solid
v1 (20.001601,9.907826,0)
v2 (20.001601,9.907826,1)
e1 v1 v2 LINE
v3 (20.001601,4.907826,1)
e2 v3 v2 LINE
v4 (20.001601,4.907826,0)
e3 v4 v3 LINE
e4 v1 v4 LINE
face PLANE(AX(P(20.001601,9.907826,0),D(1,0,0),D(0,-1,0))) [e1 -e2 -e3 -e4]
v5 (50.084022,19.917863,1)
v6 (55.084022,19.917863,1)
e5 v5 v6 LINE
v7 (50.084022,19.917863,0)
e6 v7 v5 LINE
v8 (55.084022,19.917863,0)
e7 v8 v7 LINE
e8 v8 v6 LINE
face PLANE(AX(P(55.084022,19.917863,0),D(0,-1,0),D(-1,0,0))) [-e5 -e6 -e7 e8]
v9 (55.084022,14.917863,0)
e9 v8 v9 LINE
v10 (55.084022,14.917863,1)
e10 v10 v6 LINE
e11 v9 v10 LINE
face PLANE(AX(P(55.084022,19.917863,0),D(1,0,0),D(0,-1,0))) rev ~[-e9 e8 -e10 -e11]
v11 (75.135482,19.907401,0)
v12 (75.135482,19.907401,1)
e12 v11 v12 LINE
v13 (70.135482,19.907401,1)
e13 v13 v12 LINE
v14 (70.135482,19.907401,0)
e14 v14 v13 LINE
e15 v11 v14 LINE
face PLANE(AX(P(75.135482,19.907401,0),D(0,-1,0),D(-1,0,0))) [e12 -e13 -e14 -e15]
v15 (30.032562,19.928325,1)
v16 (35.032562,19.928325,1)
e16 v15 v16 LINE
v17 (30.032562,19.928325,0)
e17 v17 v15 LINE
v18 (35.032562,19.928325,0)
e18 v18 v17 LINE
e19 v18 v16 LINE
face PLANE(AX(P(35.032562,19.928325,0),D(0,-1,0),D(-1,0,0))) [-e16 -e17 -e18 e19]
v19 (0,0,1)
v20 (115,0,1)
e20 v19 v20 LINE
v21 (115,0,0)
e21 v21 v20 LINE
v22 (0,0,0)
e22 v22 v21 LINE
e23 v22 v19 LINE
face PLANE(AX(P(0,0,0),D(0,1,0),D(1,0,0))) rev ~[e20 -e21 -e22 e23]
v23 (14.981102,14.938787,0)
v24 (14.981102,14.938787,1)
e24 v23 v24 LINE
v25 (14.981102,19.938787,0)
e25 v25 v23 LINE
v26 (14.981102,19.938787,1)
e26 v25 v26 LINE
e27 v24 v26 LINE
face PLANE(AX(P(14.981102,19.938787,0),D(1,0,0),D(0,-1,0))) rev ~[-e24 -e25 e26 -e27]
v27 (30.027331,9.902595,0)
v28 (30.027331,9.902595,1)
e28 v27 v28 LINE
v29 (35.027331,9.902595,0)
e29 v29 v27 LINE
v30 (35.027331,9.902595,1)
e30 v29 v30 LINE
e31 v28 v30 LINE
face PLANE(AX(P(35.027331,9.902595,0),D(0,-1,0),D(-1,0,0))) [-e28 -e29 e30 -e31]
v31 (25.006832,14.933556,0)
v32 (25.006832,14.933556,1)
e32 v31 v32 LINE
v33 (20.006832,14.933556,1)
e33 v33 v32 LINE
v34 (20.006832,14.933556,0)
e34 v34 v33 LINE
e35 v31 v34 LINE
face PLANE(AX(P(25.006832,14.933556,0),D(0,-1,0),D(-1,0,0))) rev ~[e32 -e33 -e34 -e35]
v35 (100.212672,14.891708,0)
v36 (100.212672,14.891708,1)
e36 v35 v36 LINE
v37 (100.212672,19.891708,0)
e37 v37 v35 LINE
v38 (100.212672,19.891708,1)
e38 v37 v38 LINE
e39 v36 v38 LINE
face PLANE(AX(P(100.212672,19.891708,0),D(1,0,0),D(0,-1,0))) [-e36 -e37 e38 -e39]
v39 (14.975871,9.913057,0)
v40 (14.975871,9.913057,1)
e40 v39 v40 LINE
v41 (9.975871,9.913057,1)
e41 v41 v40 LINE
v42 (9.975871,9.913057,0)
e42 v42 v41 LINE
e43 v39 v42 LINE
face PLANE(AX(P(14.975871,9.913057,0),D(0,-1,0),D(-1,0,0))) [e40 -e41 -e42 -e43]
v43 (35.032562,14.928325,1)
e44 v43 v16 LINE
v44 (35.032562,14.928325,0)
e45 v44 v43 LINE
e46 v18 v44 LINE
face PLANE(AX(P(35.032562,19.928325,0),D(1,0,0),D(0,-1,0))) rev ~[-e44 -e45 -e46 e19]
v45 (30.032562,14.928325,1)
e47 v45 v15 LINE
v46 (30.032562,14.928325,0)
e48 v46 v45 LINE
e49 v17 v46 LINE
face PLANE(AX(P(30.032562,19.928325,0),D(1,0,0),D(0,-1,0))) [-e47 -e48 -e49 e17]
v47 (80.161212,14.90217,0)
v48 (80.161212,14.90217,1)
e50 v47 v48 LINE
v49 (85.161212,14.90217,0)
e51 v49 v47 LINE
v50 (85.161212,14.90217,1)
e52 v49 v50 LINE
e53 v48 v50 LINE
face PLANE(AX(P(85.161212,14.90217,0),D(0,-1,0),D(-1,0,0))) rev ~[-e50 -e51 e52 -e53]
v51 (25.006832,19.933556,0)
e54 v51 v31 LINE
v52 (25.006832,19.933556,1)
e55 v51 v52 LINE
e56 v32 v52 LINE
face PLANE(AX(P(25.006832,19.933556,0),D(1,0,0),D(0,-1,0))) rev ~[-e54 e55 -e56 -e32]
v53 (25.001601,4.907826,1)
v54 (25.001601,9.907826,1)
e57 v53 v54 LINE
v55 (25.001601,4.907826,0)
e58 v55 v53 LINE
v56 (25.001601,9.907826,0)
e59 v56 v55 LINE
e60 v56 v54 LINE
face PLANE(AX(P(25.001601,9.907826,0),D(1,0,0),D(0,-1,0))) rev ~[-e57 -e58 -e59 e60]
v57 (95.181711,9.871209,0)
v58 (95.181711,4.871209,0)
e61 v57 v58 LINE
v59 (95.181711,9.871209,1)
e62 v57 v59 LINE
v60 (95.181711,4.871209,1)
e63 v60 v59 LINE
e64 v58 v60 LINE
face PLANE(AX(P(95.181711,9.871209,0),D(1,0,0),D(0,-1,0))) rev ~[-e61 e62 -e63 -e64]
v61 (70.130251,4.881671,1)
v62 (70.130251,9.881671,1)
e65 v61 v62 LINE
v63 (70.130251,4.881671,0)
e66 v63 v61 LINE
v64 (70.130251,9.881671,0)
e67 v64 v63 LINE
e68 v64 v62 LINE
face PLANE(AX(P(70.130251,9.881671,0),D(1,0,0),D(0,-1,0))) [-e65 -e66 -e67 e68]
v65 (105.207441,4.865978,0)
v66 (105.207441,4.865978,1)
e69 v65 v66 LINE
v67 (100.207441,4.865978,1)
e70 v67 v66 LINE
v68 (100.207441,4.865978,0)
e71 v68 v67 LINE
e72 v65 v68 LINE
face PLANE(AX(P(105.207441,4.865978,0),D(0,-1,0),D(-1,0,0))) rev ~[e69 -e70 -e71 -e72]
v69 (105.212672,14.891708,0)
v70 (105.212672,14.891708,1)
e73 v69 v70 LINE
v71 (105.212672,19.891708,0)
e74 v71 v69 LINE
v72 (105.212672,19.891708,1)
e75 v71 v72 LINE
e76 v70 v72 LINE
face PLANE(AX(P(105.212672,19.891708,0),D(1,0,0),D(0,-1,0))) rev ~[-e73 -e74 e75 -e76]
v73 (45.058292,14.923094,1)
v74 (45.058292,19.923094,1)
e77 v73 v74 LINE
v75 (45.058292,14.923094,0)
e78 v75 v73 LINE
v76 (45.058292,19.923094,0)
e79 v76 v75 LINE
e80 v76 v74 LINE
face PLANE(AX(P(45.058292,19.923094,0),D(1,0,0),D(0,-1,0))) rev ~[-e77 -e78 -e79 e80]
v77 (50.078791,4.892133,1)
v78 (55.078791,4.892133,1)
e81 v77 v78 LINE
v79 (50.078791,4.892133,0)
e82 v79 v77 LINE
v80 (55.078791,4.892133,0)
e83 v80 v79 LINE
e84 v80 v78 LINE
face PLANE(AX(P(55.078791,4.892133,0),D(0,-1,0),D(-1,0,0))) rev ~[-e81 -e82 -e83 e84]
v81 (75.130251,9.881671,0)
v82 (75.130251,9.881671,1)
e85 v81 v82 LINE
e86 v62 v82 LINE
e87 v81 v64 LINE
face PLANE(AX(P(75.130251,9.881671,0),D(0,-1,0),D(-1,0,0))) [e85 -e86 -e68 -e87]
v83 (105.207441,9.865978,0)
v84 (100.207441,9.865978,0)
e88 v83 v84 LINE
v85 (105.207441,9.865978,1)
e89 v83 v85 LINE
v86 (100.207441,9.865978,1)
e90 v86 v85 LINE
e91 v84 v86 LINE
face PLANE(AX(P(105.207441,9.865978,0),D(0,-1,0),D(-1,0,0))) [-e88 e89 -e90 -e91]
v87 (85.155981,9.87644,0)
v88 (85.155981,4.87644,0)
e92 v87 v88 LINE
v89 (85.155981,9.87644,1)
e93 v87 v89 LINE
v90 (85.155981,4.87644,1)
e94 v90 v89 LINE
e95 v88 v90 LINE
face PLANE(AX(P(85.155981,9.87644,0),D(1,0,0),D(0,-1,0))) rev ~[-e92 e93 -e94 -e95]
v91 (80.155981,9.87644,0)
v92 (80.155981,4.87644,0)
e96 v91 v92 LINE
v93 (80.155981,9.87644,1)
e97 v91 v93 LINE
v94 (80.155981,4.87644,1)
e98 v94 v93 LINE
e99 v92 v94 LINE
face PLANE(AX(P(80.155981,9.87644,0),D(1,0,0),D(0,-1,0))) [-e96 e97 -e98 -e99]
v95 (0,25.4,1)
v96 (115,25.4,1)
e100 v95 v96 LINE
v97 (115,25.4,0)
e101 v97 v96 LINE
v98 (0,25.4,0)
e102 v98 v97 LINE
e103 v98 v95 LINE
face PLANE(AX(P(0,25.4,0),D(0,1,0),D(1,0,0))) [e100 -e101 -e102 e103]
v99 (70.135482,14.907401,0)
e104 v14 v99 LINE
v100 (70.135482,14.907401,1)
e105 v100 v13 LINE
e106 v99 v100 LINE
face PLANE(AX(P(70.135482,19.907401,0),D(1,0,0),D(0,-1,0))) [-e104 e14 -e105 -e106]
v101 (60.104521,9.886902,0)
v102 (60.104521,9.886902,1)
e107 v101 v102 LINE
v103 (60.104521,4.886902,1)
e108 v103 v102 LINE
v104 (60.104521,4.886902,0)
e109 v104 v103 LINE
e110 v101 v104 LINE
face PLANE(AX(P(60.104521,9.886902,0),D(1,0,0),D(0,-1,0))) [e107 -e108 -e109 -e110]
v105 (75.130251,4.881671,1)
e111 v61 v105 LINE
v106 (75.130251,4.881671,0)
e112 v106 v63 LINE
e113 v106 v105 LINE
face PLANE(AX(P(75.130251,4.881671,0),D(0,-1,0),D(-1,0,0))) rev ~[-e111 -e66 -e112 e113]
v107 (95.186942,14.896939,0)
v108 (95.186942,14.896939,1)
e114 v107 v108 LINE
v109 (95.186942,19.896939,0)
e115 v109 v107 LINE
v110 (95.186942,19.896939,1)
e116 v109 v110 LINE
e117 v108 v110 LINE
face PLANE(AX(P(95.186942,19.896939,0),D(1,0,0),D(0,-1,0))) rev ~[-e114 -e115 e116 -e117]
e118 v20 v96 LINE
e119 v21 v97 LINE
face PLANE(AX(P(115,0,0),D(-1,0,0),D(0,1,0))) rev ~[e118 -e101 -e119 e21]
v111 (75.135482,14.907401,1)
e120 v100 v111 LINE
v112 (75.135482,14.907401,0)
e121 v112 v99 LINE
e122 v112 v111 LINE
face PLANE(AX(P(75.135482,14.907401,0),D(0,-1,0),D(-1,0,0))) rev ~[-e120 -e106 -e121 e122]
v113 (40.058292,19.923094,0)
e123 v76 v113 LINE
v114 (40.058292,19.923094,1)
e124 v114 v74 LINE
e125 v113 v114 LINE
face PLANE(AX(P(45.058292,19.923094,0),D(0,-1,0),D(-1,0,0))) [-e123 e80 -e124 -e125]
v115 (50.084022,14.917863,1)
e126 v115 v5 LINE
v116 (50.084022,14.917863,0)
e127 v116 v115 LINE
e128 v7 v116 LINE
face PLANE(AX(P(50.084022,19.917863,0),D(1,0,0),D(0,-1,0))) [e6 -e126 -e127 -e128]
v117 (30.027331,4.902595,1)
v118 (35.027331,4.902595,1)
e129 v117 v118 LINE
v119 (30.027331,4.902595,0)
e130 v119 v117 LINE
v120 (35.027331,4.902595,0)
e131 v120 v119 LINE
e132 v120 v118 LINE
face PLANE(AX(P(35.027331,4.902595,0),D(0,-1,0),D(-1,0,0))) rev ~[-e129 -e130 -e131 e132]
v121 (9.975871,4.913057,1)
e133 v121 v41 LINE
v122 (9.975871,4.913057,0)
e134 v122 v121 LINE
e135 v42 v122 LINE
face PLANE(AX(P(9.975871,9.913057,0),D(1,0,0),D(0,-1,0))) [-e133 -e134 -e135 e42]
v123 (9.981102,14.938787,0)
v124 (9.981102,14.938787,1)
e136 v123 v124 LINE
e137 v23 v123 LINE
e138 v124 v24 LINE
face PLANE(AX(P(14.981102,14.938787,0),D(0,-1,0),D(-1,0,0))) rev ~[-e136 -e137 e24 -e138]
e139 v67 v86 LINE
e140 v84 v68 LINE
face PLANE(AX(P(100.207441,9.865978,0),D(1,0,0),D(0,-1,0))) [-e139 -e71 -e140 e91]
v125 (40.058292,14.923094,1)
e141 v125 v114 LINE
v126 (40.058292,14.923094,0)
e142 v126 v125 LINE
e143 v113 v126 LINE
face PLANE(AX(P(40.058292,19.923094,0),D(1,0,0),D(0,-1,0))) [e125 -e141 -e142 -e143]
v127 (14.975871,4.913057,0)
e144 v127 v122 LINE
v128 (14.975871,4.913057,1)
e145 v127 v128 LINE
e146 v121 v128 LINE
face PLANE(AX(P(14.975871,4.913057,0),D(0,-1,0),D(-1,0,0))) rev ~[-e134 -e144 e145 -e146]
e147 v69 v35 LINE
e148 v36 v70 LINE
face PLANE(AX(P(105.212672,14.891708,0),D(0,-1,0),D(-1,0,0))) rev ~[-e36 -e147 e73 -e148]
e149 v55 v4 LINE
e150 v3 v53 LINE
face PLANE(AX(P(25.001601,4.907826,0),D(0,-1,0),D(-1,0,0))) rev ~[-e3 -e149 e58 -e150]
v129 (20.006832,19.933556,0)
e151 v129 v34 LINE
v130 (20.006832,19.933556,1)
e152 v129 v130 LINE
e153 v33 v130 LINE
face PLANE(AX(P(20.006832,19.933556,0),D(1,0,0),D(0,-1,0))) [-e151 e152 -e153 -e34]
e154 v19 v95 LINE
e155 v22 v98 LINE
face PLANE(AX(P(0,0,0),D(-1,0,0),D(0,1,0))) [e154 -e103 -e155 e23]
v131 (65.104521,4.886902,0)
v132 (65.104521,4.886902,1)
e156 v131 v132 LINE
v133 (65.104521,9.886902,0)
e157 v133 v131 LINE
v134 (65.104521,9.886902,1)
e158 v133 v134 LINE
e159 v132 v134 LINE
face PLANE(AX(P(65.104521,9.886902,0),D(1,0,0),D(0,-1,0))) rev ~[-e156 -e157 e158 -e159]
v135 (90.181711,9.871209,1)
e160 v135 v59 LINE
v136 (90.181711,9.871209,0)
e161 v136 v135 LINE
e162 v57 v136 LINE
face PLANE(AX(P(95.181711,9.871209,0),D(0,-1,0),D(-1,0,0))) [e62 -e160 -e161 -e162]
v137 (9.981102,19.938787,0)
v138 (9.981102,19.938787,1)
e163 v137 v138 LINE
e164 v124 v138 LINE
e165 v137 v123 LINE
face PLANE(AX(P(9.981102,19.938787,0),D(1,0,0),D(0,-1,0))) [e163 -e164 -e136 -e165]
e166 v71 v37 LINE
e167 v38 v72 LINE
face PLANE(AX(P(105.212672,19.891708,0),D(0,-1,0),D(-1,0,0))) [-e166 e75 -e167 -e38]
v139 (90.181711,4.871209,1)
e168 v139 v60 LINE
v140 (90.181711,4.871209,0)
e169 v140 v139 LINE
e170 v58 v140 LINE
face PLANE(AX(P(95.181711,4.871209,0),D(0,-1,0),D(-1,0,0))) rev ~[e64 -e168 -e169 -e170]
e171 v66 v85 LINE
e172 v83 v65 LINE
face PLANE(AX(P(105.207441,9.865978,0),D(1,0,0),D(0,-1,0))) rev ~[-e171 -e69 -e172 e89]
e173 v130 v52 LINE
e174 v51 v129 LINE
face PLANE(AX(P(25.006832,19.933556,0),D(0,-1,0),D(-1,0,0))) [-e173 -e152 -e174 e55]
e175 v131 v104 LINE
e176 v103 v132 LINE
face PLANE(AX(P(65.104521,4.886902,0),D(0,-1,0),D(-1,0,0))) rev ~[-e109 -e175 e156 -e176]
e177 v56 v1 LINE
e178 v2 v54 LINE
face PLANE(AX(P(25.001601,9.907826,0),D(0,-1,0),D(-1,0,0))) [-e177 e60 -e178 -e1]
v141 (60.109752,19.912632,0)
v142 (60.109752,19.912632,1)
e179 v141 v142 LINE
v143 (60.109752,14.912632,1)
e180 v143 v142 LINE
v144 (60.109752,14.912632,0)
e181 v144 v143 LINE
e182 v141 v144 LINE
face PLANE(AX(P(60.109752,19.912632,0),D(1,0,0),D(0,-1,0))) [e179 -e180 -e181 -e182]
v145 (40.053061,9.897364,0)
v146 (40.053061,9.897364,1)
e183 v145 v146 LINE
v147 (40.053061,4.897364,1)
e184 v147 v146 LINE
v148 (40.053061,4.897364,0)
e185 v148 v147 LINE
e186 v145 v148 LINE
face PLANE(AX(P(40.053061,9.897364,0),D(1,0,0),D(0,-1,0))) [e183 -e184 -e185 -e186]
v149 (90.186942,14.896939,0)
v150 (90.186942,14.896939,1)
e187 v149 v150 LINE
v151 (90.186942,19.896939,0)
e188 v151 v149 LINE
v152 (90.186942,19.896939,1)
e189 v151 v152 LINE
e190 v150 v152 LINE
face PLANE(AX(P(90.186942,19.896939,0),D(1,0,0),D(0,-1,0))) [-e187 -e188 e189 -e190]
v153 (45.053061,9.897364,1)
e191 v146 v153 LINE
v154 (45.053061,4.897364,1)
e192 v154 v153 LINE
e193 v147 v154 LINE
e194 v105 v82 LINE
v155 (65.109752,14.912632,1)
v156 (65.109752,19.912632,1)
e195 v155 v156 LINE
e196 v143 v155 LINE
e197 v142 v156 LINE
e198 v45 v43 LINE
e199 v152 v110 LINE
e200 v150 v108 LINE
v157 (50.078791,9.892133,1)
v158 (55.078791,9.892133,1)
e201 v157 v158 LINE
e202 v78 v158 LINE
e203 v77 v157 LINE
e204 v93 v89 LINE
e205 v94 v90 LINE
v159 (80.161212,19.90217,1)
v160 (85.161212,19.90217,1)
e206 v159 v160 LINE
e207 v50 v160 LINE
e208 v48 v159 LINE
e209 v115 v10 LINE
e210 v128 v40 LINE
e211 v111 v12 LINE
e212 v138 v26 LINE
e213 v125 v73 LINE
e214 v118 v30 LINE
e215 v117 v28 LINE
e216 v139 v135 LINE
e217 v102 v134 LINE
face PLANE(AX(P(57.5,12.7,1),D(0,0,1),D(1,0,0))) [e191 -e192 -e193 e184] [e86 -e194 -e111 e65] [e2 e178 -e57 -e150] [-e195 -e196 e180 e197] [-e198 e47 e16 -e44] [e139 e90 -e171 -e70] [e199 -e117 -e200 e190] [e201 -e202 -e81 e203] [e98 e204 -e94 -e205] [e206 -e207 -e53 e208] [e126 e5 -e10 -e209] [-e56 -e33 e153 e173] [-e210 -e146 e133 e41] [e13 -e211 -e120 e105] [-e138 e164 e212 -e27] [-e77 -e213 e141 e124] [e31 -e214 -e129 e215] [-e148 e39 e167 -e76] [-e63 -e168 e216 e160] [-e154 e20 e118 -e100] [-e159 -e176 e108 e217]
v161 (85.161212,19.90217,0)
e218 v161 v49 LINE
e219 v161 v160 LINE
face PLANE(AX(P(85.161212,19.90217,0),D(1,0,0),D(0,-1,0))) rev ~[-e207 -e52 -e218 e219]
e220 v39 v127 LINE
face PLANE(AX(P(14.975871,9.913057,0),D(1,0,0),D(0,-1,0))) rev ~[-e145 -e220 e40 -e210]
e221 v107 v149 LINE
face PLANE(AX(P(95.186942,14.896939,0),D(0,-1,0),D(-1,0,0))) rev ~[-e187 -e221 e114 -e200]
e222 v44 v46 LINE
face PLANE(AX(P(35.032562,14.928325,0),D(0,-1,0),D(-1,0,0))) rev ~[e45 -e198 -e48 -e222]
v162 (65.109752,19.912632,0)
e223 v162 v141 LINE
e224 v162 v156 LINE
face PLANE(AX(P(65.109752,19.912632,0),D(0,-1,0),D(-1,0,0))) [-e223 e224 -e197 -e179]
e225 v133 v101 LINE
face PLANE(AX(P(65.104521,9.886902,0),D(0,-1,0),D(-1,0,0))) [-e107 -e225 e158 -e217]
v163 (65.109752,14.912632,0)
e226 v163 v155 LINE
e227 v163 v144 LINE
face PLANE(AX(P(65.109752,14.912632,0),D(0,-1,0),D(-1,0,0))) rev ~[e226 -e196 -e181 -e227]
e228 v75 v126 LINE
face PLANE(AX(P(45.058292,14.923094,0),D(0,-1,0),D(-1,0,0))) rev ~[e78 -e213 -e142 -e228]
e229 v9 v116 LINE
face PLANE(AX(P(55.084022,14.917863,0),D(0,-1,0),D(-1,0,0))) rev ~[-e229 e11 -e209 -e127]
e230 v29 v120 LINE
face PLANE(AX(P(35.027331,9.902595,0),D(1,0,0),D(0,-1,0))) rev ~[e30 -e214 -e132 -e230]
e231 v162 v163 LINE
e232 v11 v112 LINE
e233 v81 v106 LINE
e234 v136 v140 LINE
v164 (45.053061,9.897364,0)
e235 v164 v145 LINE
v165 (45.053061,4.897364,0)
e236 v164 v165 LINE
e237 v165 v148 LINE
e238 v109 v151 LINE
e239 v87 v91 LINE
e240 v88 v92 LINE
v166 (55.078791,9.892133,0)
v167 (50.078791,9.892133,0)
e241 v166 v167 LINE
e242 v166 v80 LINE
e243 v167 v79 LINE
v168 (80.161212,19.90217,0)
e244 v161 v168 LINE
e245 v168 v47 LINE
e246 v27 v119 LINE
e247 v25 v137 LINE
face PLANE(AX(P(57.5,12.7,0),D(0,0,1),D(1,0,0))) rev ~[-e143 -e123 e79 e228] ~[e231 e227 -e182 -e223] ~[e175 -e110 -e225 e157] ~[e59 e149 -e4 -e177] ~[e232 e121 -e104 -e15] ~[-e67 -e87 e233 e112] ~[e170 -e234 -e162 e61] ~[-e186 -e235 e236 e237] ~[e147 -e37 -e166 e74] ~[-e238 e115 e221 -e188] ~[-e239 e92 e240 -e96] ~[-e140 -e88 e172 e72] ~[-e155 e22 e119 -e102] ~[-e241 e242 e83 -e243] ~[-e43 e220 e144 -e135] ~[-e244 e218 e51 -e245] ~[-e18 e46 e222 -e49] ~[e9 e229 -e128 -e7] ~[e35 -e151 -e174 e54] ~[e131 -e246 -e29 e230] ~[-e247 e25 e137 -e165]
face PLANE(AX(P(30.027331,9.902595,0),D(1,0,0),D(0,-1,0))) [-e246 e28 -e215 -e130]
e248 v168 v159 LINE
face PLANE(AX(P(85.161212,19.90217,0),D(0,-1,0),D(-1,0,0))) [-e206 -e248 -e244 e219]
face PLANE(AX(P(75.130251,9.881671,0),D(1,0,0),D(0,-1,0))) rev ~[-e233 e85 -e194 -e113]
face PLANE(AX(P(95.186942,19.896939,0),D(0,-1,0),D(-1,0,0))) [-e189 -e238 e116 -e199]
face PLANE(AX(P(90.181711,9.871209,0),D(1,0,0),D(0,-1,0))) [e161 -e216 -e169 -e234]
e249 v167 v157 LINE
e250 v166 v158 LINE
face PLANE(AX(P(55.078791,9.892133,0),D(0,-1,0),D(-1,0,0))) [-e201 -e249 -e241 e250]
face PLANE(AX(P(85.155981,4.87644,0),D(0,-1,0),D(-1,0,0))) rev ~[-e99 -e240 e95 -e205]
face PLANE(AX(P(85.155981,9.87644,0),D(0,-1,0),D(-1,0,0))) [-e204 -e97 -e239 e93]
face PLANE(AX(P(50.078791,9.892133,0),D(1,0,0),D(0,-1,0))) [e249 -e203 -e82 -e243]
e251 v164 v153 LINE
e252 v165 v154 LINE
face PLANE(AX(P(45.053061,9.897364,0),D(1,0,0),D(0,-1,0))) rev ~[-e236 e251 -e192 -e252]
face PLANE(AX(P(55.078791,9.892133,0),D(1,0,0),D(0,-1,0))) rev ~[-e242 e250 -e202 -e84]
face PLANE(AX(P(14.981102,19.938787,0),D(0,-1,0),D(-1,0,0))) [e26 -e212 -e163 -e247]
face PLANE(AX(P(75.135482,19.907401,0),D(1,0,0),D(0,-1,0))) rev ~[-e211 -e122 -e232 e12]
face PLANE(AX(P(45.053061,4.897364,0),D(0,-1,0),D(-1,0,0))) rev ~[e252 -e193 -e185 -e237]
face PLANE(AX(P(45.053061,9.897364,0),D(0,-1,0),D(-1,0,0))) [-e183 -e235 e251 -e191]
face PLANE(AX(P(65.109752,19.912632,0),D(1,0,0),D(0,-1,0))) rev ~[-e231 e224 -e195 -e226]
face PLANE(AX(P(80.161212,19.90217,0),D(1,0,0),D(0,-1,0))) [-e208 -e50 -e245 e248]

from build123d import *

# Parameters (mm, degrees)
BOX_W              = 115
BOX_H              = 25.4
BOX_DEPTH          = 1
SKETCH_W           = 5
SKETCH_H           = 5
POCKET_DEPTH       = 0.001
POCKET_FACE24_W    = 5
POCKET_FACE24_H    = 5
POCKET001_DEPTH    = 5
POCKET001_FACE12_W = 5
POCKET001_FACE12_H = 5
POCKET002_DEPTH    = 5
POCKET002_FACE17_W = 5
POCKET002_FACE17_H = 5
POCKET003_DEPTH    = 1.001
POCKET003_FACE20_W = 5
POCKET003_FACE20_H = 5
POCKET004_DEPTH    = 5
POCKET004_FACE28_W = 5
POCKET004_FACE28_H = 5
POCKET005_DEPTH    = 5
POCKET005_FACE32_W = 5
POCKET005_FACE32_H = 5
POCKET006_DEPTH    = 5
POCKET006_FACE35_W = 5
POCKET006_FACE35_H = 5
POCKET007_DEPTH    = 5
POCKET007_FACE38_W = 5
POCKET007_FACE38_H = 5
POCKET008_DEPTH    = 5
POCKET008_FACE46_W = 5
POCKET008_FACE46_H = 5
POCKET009_DEPTH    = 5
POCKET009_FACE52_W = 5
POCKET009_FACE52_H = 5
POCKET010_DEPTH    = 5
POCKET010_FACE55_W = 5
POCKET010_FACE55_H = 5
POCKET011_DEPTH    = 5
POCKET011_FACE51_W = 5
POCKET011_FACE51_H = 5
POCKET012_DEPTH    = 5
POCKET012_FACE56_W = 5
POCKET012_FACE56_H = 5
POCKET013_DEPTH    = 5
POCKET013_FACE59_W = 5
POCKET013_FACE59_H = 5
POCKET014_DEPTH    = 5
POCKET014_FACE63_W = 5
POCKET014_FACE63_H = 5
POCKET015_DEPTH    = 5
POCKET015_FACE68_W = 5
POCKET015_FACE68_H = 5
POCKET016_DEPTH    = 5
POCKET016_FACE72_W = 5
POCKET016_FACE72_H = 5
POCKET017_DEPTH    = 5
POCKET017_FACE76_W = 5
POCKET017_FACE76_H = 5
POCKET018_DEPTH    = 5
POCKET018_FACE80_W = 5
POCKET018_FACE80_H = 5
POCKET019_DEPTH    = 5
POCKET019_FACE83_W = 5
POCKET019_FACE83_H = 5
POCKET020_DEPTH    = 115


with BuildPart() as part:
    # Box → Box (new body)
    with BuildSketch(Plane.XY):
        with Locations((57.5, 12.7)):
            Rectangle(BOX_W, BOX_H)
    extrude(amount=BOX_DEPTH)

    # Sketch → Pocket (cut, through all)
    with BuildSketch(Plane.XY):
        with Locations((12.481102, 17.438787)):
            Rectangle(SKETCH_W, SKETCH_H)
        with Locations((22.506832, 17.433556)):
            Rectangle(SKETCH_W, SKETCH_H)
        with Locations((32.532562, 17.428325)):
            Rectangle(SKETCH_W, SKETCH_H)
        with Locations((42.558292, 17.423094)):
            Rectangle(SKETCH_W, SKETCH_H)
        with Locations((52.584022, 17.417863)):
            Rectangle(SKETCH_W, SKETCH_H)
        with Locations((62.609752, 17.412632)):
            Rectangle(SKETCH_W, SKETCH_H)
        with Locations((72.635482, 17.407401)):
            Rectangle(SKETCH_W, SKETCH_H)
        with Locations((82.661212, 17.40217)):
            Rectangle(SKETCH_W, SKETCH_H)
        with Locations((92.686942, 17.396939)):
            Rectangle(SKETCH_W, SKETCH_H)
        with Locations((102.712672, 17.391708)):
            Rectangle(SKETCH_W, SKETCH_H)
        with Locations((12.475871, 7.413057)):
            Rectangle(SKETCH_W, SKETCH_H)
        with Locations((22.501601, 7.407826)):
            Rectangle(SKETCH_W, SKETCH_H)
        with Locations((32.527331, 7.402595)):
            Rectangle(SKETCH_W, SKETCH_H)
        with Locations((42.553061, 7.397364)):
            Rectangle(SKETCH_W, SKETCH_H)
        with Locations((52.578791, 7.392133)):
            Rectangle(SKETCH_W, SKETCH_H)
        with Locations((62.604521, 7.386902)):
            Rectangle(SKETCH_W, SKETCH_H)
        with Locations((72.630251, 7.381671)):
            Rectangle(SKETCH_W, SKETCH_H)
        with Locations((82.655981, 7.37644)):
            Rectangle(SKETCH_W, SKETCH_H)
        with Locations((92.681711, 7.371209)):
            Rectangle(SKETCH_W, SKETCH_H)
        with Locations((102.707441, 7.365978)):
            Rectangle(SKETCH_W, SKETCH_H)
    extrude(amount=-POCKET_DEPTH, mode=Mode.SUBTRACT)

    # Pocket Face24 → Pocket001 (cut)
    with BuildSketch(Plane(origin=(102.712672, 17.391708, 0), x_dir=(0, -1, 0), z_dir=(0, 0, -1))):
        Rectangle(POCKET_FACE24_W, POCKET_FACE24_H)
    extrude(amount=-POCKET001_DEPTH, mode=Mode.SUBTRACT)

    # Pocket001 Face12 → Pocket002 (cut)
    with BuildSketch(Plane(origin=(92.686942, 17.396939, 0), x_dir=(0, -1, 0), z_dir=(0, 0, -1))):
        Rectangle(POCKET001_FACE12_W, POCKET001_FACE12_H)
    extrude(amount=-POCKET002_DEPTH, mode=Mode.SUBTRACT)

    # Pocket002 Face17 → Pocket003 (cut, through all)
    with BuildSketch(Plane(origin=(82.661212, 17.40217, 0), x_dir=(0, -1, 0), z_dir=(0, 0, -1))):
        Rectangle(POCKET002_FACE17_W, POCKET002_FACE17_H)
    extrude(amount=-POCKET003_DEPTH, mode=Mode.SUBTRACT)

    # Pocket003 Face20 → Pocket004 (cut)
    with BuildSketch(Plane(origin=(72.635482, 17.407401, 0), x_dir=(0, -1, 0), z_dir=(0, 0, -1))):
        Rectangle(POCKET003_FACE20_W, POCKET003_FACE20_H)
    extrude(amount=-POCKET004_DEPTH, mode=Mode.SUBTRACT)

    # Pocket004 Face28 → Pocket005 (cut)
    with BuildSketch(Plane(origin=(62.609752, 17.412632, 0), x_dir=(0, -1, 0), z_dir=(0, 0, -1))):
        Rectangle(POCKET004_FACE28_W, POCKET004_FACE28_H)
    extrude(amount=-POCKET005_DEPTH, mode=Mode.SUBTRACT)

    # Pocket005 Face32 → Pocket006 (cut)
    with BuildSketch(Plane(origin=(52.584022, 17.417863, 0), x_dir=(0, -1, 0), z_dir=(0, 0, -1))):
        Rectangle(POCKET005_FACE32_W, POCKET005_FACE32_H)
    extrude(amount=-POCKET006_DEPTH, mode=Mode.SUBTRACT)

    # Pocket006 Face35 → Pocket007 (cut)
    with BuildSketch(Plane(origin=(42.558292, 17.423094, 0), x_dir=(0, -1, 0), z_dir=(0, 0, -1))):
        Rectangle(POCKET006_FACE35_W, POCKET006_FACE35_H)
    extrude(amount=-POCKET007_DEPTH, mode=Mode.SUBTRACT)

    # Pocket007 Face38 → Pocket008 (cut)
    with BuildSketch(Plane(origin=(32.532562, 17.428325, 0), x_dir=(0, -1, 0), z_dir=(0, 0, -1))):
        Rectangle(POCKET007_FACE38_W, POCKET007_FACE38_H)
    extrude(amount=-POCKET008_DEPTH, mode=Mode.SUBTRACT)

    # Pocket008 Face46 → Pocket009 (cut)
    with BuildSketch(Plane(origin=(22.506832, 17.433556, 0), x_dir=(0, -1, 0), z_dir=(0, 0, -1))):
        Rectangle(POCKET008_FACE46_W, POCKET008_FACE46_H)
    extrude(amount=-POCKET009_DEPTH, mode=Mode.SUBTRACT)

    # Pocket009 Face52 → Pocket010 (cut)
    with BuildSketch(Plane(origin=(12.481102, 17.438787, 0), x_dir=(0, -1, 0), z_dir=(0, 0, -1))):
        Rectangle(POCKET009_FACE52_W, POCKET009_FACE52_H)
    extrude(amount=-POCKET010_DEPTH, mode=Mode.SUBTRACT)

    # Pocket010 Face55 → Pocket011 (cut)
    with BuildSketch(Plane(origin=(102.707441, 7.365978, 0), x_dir=(0, -1, 0), z_dir=(0, 0, -1))):
        Rectangle(POCKET010_FACE55_W, POCKET010_FACE55_H)
    extrude(amount=-POCKET011_DEPTH, mode=Mode.SUBTRACT)

    # Pocket011 Face51 → Pocket012 (cut)
    with BuildSketch(Plane(origin=(92.681711, 7.371209, 0), x_dir=(0, -1, 0), z_dir=(0, 0, -1))):
        Rectangle(POCKET011_FACE51_W, POCKET011_FACE51_H)
    extrude(amount=-POCKET012_DEPTH, mode=Mode.SUBTRACT)

    # Pocket012 Face56 → Pocket013 (cut)
    with BuildSketch(Plane(origin=(82.655981, 7.37644, 0), x_dir=(0, -1, 0), z_dir=(0, 0, -1))):
        Rectangle(POCKET012_FACE56_W, POCKET012_FACE56_H)
    extrude(amount=-POCKET013_DEPTH, mode=Mode.SUBTRACT)

    # Pocket013 Face59 → Pocket014 (cut)
    with BuildSketch(Plane(origin=(72.630251, 7.381671, 0), x_dir=(0, -1, 0), z_dir=(0, 0, -1))):
        Rectangle(POCKET013_FACE59_W, POCKET013_FACE59_H)
    extrude(amount=-POCKET014_DEPTH, mode=Mode.SUBTRACT)

    # Pocket014 Face63 → Pocket015 (cut)
    with BuildSketch(Plane(origin=(62.604521, 7.386902, 0), x_dir=(0, -1, 0), z_dir=(0, 0, -1))):
        Rectangle(POCKET014_FACE63_W, POCKET014_FACE63_H)
    extrude(amount=-POCKET015_DEPTH, mode=Mode.SUBTRACT)

    # Pocket015 Face68 → Pocket016 (cut)
    with BuildSketch(Plane(origin=(42.553061, 7.397364, 0), x_dir=(0, -1, 0), z_dir=(0, 0, -1))):
        Rectangle(POCKET015_FACE68_W, POCKET015_FACE68_H)
    extrude(amount=-POCKET016_DEPTH, mode=Mode.SUBTRACT)

    # Pocket016 Face72 → Pocket017 (cut)
    with BuildSketch(Plane(origin=(32.527331, 7.402595, 0), x_dir=(0, -1, 0), z_dir=(0, 0, -1))):
        Rectangle(POCKET016_FACE72_W, POCKET016_FACE72_H)
    extrude(amount=-POCKET017_DEPTH, mode=Mode.SUBTRACT)

    # Pocket017 Face76 → Pocket018 (cut)
    with BuildSketch(Plane(origin=(22.501601, 7.407826, 0), x_dir=(0, -1, 0), z_dir=(0, 0, -1))):
        Rectangle(POCKET017_FACE76_W, POCKET017_FACE76_H)
    extrude(amount=-POCKET018_DEPTH, mode=Mode.SUBTRACT)

    # Pocket018 Face80 → Pocket019 (cut)
    with BuildSketch(Plane(origin=(12.475871, 7.413057, 0), x_dir=(0, -1, 0), z_dir=(0, 0, -1))):
        Rectangle(POCKET018_FACE80_W, POCKET018_FACE80_H)
    extrude(amount=-POCKET019_DEPTH, mode=Mode.SUBTRACT)

    # Pocket019 Face83 → Pocket020 (cut)
    with BuildSketch(Plane(origin=(52.578791, 7.392133, 0), x_dir=(0, -1, 0), z_dir=(0, 0, -1))):
        Rectangle(POCKET019_FACE83_W, POCKET019_FACE83_H)
    extrude(amount=-POCKET020_DEPTH, mode=Mode.SUBTRACT)


solid = part.part
